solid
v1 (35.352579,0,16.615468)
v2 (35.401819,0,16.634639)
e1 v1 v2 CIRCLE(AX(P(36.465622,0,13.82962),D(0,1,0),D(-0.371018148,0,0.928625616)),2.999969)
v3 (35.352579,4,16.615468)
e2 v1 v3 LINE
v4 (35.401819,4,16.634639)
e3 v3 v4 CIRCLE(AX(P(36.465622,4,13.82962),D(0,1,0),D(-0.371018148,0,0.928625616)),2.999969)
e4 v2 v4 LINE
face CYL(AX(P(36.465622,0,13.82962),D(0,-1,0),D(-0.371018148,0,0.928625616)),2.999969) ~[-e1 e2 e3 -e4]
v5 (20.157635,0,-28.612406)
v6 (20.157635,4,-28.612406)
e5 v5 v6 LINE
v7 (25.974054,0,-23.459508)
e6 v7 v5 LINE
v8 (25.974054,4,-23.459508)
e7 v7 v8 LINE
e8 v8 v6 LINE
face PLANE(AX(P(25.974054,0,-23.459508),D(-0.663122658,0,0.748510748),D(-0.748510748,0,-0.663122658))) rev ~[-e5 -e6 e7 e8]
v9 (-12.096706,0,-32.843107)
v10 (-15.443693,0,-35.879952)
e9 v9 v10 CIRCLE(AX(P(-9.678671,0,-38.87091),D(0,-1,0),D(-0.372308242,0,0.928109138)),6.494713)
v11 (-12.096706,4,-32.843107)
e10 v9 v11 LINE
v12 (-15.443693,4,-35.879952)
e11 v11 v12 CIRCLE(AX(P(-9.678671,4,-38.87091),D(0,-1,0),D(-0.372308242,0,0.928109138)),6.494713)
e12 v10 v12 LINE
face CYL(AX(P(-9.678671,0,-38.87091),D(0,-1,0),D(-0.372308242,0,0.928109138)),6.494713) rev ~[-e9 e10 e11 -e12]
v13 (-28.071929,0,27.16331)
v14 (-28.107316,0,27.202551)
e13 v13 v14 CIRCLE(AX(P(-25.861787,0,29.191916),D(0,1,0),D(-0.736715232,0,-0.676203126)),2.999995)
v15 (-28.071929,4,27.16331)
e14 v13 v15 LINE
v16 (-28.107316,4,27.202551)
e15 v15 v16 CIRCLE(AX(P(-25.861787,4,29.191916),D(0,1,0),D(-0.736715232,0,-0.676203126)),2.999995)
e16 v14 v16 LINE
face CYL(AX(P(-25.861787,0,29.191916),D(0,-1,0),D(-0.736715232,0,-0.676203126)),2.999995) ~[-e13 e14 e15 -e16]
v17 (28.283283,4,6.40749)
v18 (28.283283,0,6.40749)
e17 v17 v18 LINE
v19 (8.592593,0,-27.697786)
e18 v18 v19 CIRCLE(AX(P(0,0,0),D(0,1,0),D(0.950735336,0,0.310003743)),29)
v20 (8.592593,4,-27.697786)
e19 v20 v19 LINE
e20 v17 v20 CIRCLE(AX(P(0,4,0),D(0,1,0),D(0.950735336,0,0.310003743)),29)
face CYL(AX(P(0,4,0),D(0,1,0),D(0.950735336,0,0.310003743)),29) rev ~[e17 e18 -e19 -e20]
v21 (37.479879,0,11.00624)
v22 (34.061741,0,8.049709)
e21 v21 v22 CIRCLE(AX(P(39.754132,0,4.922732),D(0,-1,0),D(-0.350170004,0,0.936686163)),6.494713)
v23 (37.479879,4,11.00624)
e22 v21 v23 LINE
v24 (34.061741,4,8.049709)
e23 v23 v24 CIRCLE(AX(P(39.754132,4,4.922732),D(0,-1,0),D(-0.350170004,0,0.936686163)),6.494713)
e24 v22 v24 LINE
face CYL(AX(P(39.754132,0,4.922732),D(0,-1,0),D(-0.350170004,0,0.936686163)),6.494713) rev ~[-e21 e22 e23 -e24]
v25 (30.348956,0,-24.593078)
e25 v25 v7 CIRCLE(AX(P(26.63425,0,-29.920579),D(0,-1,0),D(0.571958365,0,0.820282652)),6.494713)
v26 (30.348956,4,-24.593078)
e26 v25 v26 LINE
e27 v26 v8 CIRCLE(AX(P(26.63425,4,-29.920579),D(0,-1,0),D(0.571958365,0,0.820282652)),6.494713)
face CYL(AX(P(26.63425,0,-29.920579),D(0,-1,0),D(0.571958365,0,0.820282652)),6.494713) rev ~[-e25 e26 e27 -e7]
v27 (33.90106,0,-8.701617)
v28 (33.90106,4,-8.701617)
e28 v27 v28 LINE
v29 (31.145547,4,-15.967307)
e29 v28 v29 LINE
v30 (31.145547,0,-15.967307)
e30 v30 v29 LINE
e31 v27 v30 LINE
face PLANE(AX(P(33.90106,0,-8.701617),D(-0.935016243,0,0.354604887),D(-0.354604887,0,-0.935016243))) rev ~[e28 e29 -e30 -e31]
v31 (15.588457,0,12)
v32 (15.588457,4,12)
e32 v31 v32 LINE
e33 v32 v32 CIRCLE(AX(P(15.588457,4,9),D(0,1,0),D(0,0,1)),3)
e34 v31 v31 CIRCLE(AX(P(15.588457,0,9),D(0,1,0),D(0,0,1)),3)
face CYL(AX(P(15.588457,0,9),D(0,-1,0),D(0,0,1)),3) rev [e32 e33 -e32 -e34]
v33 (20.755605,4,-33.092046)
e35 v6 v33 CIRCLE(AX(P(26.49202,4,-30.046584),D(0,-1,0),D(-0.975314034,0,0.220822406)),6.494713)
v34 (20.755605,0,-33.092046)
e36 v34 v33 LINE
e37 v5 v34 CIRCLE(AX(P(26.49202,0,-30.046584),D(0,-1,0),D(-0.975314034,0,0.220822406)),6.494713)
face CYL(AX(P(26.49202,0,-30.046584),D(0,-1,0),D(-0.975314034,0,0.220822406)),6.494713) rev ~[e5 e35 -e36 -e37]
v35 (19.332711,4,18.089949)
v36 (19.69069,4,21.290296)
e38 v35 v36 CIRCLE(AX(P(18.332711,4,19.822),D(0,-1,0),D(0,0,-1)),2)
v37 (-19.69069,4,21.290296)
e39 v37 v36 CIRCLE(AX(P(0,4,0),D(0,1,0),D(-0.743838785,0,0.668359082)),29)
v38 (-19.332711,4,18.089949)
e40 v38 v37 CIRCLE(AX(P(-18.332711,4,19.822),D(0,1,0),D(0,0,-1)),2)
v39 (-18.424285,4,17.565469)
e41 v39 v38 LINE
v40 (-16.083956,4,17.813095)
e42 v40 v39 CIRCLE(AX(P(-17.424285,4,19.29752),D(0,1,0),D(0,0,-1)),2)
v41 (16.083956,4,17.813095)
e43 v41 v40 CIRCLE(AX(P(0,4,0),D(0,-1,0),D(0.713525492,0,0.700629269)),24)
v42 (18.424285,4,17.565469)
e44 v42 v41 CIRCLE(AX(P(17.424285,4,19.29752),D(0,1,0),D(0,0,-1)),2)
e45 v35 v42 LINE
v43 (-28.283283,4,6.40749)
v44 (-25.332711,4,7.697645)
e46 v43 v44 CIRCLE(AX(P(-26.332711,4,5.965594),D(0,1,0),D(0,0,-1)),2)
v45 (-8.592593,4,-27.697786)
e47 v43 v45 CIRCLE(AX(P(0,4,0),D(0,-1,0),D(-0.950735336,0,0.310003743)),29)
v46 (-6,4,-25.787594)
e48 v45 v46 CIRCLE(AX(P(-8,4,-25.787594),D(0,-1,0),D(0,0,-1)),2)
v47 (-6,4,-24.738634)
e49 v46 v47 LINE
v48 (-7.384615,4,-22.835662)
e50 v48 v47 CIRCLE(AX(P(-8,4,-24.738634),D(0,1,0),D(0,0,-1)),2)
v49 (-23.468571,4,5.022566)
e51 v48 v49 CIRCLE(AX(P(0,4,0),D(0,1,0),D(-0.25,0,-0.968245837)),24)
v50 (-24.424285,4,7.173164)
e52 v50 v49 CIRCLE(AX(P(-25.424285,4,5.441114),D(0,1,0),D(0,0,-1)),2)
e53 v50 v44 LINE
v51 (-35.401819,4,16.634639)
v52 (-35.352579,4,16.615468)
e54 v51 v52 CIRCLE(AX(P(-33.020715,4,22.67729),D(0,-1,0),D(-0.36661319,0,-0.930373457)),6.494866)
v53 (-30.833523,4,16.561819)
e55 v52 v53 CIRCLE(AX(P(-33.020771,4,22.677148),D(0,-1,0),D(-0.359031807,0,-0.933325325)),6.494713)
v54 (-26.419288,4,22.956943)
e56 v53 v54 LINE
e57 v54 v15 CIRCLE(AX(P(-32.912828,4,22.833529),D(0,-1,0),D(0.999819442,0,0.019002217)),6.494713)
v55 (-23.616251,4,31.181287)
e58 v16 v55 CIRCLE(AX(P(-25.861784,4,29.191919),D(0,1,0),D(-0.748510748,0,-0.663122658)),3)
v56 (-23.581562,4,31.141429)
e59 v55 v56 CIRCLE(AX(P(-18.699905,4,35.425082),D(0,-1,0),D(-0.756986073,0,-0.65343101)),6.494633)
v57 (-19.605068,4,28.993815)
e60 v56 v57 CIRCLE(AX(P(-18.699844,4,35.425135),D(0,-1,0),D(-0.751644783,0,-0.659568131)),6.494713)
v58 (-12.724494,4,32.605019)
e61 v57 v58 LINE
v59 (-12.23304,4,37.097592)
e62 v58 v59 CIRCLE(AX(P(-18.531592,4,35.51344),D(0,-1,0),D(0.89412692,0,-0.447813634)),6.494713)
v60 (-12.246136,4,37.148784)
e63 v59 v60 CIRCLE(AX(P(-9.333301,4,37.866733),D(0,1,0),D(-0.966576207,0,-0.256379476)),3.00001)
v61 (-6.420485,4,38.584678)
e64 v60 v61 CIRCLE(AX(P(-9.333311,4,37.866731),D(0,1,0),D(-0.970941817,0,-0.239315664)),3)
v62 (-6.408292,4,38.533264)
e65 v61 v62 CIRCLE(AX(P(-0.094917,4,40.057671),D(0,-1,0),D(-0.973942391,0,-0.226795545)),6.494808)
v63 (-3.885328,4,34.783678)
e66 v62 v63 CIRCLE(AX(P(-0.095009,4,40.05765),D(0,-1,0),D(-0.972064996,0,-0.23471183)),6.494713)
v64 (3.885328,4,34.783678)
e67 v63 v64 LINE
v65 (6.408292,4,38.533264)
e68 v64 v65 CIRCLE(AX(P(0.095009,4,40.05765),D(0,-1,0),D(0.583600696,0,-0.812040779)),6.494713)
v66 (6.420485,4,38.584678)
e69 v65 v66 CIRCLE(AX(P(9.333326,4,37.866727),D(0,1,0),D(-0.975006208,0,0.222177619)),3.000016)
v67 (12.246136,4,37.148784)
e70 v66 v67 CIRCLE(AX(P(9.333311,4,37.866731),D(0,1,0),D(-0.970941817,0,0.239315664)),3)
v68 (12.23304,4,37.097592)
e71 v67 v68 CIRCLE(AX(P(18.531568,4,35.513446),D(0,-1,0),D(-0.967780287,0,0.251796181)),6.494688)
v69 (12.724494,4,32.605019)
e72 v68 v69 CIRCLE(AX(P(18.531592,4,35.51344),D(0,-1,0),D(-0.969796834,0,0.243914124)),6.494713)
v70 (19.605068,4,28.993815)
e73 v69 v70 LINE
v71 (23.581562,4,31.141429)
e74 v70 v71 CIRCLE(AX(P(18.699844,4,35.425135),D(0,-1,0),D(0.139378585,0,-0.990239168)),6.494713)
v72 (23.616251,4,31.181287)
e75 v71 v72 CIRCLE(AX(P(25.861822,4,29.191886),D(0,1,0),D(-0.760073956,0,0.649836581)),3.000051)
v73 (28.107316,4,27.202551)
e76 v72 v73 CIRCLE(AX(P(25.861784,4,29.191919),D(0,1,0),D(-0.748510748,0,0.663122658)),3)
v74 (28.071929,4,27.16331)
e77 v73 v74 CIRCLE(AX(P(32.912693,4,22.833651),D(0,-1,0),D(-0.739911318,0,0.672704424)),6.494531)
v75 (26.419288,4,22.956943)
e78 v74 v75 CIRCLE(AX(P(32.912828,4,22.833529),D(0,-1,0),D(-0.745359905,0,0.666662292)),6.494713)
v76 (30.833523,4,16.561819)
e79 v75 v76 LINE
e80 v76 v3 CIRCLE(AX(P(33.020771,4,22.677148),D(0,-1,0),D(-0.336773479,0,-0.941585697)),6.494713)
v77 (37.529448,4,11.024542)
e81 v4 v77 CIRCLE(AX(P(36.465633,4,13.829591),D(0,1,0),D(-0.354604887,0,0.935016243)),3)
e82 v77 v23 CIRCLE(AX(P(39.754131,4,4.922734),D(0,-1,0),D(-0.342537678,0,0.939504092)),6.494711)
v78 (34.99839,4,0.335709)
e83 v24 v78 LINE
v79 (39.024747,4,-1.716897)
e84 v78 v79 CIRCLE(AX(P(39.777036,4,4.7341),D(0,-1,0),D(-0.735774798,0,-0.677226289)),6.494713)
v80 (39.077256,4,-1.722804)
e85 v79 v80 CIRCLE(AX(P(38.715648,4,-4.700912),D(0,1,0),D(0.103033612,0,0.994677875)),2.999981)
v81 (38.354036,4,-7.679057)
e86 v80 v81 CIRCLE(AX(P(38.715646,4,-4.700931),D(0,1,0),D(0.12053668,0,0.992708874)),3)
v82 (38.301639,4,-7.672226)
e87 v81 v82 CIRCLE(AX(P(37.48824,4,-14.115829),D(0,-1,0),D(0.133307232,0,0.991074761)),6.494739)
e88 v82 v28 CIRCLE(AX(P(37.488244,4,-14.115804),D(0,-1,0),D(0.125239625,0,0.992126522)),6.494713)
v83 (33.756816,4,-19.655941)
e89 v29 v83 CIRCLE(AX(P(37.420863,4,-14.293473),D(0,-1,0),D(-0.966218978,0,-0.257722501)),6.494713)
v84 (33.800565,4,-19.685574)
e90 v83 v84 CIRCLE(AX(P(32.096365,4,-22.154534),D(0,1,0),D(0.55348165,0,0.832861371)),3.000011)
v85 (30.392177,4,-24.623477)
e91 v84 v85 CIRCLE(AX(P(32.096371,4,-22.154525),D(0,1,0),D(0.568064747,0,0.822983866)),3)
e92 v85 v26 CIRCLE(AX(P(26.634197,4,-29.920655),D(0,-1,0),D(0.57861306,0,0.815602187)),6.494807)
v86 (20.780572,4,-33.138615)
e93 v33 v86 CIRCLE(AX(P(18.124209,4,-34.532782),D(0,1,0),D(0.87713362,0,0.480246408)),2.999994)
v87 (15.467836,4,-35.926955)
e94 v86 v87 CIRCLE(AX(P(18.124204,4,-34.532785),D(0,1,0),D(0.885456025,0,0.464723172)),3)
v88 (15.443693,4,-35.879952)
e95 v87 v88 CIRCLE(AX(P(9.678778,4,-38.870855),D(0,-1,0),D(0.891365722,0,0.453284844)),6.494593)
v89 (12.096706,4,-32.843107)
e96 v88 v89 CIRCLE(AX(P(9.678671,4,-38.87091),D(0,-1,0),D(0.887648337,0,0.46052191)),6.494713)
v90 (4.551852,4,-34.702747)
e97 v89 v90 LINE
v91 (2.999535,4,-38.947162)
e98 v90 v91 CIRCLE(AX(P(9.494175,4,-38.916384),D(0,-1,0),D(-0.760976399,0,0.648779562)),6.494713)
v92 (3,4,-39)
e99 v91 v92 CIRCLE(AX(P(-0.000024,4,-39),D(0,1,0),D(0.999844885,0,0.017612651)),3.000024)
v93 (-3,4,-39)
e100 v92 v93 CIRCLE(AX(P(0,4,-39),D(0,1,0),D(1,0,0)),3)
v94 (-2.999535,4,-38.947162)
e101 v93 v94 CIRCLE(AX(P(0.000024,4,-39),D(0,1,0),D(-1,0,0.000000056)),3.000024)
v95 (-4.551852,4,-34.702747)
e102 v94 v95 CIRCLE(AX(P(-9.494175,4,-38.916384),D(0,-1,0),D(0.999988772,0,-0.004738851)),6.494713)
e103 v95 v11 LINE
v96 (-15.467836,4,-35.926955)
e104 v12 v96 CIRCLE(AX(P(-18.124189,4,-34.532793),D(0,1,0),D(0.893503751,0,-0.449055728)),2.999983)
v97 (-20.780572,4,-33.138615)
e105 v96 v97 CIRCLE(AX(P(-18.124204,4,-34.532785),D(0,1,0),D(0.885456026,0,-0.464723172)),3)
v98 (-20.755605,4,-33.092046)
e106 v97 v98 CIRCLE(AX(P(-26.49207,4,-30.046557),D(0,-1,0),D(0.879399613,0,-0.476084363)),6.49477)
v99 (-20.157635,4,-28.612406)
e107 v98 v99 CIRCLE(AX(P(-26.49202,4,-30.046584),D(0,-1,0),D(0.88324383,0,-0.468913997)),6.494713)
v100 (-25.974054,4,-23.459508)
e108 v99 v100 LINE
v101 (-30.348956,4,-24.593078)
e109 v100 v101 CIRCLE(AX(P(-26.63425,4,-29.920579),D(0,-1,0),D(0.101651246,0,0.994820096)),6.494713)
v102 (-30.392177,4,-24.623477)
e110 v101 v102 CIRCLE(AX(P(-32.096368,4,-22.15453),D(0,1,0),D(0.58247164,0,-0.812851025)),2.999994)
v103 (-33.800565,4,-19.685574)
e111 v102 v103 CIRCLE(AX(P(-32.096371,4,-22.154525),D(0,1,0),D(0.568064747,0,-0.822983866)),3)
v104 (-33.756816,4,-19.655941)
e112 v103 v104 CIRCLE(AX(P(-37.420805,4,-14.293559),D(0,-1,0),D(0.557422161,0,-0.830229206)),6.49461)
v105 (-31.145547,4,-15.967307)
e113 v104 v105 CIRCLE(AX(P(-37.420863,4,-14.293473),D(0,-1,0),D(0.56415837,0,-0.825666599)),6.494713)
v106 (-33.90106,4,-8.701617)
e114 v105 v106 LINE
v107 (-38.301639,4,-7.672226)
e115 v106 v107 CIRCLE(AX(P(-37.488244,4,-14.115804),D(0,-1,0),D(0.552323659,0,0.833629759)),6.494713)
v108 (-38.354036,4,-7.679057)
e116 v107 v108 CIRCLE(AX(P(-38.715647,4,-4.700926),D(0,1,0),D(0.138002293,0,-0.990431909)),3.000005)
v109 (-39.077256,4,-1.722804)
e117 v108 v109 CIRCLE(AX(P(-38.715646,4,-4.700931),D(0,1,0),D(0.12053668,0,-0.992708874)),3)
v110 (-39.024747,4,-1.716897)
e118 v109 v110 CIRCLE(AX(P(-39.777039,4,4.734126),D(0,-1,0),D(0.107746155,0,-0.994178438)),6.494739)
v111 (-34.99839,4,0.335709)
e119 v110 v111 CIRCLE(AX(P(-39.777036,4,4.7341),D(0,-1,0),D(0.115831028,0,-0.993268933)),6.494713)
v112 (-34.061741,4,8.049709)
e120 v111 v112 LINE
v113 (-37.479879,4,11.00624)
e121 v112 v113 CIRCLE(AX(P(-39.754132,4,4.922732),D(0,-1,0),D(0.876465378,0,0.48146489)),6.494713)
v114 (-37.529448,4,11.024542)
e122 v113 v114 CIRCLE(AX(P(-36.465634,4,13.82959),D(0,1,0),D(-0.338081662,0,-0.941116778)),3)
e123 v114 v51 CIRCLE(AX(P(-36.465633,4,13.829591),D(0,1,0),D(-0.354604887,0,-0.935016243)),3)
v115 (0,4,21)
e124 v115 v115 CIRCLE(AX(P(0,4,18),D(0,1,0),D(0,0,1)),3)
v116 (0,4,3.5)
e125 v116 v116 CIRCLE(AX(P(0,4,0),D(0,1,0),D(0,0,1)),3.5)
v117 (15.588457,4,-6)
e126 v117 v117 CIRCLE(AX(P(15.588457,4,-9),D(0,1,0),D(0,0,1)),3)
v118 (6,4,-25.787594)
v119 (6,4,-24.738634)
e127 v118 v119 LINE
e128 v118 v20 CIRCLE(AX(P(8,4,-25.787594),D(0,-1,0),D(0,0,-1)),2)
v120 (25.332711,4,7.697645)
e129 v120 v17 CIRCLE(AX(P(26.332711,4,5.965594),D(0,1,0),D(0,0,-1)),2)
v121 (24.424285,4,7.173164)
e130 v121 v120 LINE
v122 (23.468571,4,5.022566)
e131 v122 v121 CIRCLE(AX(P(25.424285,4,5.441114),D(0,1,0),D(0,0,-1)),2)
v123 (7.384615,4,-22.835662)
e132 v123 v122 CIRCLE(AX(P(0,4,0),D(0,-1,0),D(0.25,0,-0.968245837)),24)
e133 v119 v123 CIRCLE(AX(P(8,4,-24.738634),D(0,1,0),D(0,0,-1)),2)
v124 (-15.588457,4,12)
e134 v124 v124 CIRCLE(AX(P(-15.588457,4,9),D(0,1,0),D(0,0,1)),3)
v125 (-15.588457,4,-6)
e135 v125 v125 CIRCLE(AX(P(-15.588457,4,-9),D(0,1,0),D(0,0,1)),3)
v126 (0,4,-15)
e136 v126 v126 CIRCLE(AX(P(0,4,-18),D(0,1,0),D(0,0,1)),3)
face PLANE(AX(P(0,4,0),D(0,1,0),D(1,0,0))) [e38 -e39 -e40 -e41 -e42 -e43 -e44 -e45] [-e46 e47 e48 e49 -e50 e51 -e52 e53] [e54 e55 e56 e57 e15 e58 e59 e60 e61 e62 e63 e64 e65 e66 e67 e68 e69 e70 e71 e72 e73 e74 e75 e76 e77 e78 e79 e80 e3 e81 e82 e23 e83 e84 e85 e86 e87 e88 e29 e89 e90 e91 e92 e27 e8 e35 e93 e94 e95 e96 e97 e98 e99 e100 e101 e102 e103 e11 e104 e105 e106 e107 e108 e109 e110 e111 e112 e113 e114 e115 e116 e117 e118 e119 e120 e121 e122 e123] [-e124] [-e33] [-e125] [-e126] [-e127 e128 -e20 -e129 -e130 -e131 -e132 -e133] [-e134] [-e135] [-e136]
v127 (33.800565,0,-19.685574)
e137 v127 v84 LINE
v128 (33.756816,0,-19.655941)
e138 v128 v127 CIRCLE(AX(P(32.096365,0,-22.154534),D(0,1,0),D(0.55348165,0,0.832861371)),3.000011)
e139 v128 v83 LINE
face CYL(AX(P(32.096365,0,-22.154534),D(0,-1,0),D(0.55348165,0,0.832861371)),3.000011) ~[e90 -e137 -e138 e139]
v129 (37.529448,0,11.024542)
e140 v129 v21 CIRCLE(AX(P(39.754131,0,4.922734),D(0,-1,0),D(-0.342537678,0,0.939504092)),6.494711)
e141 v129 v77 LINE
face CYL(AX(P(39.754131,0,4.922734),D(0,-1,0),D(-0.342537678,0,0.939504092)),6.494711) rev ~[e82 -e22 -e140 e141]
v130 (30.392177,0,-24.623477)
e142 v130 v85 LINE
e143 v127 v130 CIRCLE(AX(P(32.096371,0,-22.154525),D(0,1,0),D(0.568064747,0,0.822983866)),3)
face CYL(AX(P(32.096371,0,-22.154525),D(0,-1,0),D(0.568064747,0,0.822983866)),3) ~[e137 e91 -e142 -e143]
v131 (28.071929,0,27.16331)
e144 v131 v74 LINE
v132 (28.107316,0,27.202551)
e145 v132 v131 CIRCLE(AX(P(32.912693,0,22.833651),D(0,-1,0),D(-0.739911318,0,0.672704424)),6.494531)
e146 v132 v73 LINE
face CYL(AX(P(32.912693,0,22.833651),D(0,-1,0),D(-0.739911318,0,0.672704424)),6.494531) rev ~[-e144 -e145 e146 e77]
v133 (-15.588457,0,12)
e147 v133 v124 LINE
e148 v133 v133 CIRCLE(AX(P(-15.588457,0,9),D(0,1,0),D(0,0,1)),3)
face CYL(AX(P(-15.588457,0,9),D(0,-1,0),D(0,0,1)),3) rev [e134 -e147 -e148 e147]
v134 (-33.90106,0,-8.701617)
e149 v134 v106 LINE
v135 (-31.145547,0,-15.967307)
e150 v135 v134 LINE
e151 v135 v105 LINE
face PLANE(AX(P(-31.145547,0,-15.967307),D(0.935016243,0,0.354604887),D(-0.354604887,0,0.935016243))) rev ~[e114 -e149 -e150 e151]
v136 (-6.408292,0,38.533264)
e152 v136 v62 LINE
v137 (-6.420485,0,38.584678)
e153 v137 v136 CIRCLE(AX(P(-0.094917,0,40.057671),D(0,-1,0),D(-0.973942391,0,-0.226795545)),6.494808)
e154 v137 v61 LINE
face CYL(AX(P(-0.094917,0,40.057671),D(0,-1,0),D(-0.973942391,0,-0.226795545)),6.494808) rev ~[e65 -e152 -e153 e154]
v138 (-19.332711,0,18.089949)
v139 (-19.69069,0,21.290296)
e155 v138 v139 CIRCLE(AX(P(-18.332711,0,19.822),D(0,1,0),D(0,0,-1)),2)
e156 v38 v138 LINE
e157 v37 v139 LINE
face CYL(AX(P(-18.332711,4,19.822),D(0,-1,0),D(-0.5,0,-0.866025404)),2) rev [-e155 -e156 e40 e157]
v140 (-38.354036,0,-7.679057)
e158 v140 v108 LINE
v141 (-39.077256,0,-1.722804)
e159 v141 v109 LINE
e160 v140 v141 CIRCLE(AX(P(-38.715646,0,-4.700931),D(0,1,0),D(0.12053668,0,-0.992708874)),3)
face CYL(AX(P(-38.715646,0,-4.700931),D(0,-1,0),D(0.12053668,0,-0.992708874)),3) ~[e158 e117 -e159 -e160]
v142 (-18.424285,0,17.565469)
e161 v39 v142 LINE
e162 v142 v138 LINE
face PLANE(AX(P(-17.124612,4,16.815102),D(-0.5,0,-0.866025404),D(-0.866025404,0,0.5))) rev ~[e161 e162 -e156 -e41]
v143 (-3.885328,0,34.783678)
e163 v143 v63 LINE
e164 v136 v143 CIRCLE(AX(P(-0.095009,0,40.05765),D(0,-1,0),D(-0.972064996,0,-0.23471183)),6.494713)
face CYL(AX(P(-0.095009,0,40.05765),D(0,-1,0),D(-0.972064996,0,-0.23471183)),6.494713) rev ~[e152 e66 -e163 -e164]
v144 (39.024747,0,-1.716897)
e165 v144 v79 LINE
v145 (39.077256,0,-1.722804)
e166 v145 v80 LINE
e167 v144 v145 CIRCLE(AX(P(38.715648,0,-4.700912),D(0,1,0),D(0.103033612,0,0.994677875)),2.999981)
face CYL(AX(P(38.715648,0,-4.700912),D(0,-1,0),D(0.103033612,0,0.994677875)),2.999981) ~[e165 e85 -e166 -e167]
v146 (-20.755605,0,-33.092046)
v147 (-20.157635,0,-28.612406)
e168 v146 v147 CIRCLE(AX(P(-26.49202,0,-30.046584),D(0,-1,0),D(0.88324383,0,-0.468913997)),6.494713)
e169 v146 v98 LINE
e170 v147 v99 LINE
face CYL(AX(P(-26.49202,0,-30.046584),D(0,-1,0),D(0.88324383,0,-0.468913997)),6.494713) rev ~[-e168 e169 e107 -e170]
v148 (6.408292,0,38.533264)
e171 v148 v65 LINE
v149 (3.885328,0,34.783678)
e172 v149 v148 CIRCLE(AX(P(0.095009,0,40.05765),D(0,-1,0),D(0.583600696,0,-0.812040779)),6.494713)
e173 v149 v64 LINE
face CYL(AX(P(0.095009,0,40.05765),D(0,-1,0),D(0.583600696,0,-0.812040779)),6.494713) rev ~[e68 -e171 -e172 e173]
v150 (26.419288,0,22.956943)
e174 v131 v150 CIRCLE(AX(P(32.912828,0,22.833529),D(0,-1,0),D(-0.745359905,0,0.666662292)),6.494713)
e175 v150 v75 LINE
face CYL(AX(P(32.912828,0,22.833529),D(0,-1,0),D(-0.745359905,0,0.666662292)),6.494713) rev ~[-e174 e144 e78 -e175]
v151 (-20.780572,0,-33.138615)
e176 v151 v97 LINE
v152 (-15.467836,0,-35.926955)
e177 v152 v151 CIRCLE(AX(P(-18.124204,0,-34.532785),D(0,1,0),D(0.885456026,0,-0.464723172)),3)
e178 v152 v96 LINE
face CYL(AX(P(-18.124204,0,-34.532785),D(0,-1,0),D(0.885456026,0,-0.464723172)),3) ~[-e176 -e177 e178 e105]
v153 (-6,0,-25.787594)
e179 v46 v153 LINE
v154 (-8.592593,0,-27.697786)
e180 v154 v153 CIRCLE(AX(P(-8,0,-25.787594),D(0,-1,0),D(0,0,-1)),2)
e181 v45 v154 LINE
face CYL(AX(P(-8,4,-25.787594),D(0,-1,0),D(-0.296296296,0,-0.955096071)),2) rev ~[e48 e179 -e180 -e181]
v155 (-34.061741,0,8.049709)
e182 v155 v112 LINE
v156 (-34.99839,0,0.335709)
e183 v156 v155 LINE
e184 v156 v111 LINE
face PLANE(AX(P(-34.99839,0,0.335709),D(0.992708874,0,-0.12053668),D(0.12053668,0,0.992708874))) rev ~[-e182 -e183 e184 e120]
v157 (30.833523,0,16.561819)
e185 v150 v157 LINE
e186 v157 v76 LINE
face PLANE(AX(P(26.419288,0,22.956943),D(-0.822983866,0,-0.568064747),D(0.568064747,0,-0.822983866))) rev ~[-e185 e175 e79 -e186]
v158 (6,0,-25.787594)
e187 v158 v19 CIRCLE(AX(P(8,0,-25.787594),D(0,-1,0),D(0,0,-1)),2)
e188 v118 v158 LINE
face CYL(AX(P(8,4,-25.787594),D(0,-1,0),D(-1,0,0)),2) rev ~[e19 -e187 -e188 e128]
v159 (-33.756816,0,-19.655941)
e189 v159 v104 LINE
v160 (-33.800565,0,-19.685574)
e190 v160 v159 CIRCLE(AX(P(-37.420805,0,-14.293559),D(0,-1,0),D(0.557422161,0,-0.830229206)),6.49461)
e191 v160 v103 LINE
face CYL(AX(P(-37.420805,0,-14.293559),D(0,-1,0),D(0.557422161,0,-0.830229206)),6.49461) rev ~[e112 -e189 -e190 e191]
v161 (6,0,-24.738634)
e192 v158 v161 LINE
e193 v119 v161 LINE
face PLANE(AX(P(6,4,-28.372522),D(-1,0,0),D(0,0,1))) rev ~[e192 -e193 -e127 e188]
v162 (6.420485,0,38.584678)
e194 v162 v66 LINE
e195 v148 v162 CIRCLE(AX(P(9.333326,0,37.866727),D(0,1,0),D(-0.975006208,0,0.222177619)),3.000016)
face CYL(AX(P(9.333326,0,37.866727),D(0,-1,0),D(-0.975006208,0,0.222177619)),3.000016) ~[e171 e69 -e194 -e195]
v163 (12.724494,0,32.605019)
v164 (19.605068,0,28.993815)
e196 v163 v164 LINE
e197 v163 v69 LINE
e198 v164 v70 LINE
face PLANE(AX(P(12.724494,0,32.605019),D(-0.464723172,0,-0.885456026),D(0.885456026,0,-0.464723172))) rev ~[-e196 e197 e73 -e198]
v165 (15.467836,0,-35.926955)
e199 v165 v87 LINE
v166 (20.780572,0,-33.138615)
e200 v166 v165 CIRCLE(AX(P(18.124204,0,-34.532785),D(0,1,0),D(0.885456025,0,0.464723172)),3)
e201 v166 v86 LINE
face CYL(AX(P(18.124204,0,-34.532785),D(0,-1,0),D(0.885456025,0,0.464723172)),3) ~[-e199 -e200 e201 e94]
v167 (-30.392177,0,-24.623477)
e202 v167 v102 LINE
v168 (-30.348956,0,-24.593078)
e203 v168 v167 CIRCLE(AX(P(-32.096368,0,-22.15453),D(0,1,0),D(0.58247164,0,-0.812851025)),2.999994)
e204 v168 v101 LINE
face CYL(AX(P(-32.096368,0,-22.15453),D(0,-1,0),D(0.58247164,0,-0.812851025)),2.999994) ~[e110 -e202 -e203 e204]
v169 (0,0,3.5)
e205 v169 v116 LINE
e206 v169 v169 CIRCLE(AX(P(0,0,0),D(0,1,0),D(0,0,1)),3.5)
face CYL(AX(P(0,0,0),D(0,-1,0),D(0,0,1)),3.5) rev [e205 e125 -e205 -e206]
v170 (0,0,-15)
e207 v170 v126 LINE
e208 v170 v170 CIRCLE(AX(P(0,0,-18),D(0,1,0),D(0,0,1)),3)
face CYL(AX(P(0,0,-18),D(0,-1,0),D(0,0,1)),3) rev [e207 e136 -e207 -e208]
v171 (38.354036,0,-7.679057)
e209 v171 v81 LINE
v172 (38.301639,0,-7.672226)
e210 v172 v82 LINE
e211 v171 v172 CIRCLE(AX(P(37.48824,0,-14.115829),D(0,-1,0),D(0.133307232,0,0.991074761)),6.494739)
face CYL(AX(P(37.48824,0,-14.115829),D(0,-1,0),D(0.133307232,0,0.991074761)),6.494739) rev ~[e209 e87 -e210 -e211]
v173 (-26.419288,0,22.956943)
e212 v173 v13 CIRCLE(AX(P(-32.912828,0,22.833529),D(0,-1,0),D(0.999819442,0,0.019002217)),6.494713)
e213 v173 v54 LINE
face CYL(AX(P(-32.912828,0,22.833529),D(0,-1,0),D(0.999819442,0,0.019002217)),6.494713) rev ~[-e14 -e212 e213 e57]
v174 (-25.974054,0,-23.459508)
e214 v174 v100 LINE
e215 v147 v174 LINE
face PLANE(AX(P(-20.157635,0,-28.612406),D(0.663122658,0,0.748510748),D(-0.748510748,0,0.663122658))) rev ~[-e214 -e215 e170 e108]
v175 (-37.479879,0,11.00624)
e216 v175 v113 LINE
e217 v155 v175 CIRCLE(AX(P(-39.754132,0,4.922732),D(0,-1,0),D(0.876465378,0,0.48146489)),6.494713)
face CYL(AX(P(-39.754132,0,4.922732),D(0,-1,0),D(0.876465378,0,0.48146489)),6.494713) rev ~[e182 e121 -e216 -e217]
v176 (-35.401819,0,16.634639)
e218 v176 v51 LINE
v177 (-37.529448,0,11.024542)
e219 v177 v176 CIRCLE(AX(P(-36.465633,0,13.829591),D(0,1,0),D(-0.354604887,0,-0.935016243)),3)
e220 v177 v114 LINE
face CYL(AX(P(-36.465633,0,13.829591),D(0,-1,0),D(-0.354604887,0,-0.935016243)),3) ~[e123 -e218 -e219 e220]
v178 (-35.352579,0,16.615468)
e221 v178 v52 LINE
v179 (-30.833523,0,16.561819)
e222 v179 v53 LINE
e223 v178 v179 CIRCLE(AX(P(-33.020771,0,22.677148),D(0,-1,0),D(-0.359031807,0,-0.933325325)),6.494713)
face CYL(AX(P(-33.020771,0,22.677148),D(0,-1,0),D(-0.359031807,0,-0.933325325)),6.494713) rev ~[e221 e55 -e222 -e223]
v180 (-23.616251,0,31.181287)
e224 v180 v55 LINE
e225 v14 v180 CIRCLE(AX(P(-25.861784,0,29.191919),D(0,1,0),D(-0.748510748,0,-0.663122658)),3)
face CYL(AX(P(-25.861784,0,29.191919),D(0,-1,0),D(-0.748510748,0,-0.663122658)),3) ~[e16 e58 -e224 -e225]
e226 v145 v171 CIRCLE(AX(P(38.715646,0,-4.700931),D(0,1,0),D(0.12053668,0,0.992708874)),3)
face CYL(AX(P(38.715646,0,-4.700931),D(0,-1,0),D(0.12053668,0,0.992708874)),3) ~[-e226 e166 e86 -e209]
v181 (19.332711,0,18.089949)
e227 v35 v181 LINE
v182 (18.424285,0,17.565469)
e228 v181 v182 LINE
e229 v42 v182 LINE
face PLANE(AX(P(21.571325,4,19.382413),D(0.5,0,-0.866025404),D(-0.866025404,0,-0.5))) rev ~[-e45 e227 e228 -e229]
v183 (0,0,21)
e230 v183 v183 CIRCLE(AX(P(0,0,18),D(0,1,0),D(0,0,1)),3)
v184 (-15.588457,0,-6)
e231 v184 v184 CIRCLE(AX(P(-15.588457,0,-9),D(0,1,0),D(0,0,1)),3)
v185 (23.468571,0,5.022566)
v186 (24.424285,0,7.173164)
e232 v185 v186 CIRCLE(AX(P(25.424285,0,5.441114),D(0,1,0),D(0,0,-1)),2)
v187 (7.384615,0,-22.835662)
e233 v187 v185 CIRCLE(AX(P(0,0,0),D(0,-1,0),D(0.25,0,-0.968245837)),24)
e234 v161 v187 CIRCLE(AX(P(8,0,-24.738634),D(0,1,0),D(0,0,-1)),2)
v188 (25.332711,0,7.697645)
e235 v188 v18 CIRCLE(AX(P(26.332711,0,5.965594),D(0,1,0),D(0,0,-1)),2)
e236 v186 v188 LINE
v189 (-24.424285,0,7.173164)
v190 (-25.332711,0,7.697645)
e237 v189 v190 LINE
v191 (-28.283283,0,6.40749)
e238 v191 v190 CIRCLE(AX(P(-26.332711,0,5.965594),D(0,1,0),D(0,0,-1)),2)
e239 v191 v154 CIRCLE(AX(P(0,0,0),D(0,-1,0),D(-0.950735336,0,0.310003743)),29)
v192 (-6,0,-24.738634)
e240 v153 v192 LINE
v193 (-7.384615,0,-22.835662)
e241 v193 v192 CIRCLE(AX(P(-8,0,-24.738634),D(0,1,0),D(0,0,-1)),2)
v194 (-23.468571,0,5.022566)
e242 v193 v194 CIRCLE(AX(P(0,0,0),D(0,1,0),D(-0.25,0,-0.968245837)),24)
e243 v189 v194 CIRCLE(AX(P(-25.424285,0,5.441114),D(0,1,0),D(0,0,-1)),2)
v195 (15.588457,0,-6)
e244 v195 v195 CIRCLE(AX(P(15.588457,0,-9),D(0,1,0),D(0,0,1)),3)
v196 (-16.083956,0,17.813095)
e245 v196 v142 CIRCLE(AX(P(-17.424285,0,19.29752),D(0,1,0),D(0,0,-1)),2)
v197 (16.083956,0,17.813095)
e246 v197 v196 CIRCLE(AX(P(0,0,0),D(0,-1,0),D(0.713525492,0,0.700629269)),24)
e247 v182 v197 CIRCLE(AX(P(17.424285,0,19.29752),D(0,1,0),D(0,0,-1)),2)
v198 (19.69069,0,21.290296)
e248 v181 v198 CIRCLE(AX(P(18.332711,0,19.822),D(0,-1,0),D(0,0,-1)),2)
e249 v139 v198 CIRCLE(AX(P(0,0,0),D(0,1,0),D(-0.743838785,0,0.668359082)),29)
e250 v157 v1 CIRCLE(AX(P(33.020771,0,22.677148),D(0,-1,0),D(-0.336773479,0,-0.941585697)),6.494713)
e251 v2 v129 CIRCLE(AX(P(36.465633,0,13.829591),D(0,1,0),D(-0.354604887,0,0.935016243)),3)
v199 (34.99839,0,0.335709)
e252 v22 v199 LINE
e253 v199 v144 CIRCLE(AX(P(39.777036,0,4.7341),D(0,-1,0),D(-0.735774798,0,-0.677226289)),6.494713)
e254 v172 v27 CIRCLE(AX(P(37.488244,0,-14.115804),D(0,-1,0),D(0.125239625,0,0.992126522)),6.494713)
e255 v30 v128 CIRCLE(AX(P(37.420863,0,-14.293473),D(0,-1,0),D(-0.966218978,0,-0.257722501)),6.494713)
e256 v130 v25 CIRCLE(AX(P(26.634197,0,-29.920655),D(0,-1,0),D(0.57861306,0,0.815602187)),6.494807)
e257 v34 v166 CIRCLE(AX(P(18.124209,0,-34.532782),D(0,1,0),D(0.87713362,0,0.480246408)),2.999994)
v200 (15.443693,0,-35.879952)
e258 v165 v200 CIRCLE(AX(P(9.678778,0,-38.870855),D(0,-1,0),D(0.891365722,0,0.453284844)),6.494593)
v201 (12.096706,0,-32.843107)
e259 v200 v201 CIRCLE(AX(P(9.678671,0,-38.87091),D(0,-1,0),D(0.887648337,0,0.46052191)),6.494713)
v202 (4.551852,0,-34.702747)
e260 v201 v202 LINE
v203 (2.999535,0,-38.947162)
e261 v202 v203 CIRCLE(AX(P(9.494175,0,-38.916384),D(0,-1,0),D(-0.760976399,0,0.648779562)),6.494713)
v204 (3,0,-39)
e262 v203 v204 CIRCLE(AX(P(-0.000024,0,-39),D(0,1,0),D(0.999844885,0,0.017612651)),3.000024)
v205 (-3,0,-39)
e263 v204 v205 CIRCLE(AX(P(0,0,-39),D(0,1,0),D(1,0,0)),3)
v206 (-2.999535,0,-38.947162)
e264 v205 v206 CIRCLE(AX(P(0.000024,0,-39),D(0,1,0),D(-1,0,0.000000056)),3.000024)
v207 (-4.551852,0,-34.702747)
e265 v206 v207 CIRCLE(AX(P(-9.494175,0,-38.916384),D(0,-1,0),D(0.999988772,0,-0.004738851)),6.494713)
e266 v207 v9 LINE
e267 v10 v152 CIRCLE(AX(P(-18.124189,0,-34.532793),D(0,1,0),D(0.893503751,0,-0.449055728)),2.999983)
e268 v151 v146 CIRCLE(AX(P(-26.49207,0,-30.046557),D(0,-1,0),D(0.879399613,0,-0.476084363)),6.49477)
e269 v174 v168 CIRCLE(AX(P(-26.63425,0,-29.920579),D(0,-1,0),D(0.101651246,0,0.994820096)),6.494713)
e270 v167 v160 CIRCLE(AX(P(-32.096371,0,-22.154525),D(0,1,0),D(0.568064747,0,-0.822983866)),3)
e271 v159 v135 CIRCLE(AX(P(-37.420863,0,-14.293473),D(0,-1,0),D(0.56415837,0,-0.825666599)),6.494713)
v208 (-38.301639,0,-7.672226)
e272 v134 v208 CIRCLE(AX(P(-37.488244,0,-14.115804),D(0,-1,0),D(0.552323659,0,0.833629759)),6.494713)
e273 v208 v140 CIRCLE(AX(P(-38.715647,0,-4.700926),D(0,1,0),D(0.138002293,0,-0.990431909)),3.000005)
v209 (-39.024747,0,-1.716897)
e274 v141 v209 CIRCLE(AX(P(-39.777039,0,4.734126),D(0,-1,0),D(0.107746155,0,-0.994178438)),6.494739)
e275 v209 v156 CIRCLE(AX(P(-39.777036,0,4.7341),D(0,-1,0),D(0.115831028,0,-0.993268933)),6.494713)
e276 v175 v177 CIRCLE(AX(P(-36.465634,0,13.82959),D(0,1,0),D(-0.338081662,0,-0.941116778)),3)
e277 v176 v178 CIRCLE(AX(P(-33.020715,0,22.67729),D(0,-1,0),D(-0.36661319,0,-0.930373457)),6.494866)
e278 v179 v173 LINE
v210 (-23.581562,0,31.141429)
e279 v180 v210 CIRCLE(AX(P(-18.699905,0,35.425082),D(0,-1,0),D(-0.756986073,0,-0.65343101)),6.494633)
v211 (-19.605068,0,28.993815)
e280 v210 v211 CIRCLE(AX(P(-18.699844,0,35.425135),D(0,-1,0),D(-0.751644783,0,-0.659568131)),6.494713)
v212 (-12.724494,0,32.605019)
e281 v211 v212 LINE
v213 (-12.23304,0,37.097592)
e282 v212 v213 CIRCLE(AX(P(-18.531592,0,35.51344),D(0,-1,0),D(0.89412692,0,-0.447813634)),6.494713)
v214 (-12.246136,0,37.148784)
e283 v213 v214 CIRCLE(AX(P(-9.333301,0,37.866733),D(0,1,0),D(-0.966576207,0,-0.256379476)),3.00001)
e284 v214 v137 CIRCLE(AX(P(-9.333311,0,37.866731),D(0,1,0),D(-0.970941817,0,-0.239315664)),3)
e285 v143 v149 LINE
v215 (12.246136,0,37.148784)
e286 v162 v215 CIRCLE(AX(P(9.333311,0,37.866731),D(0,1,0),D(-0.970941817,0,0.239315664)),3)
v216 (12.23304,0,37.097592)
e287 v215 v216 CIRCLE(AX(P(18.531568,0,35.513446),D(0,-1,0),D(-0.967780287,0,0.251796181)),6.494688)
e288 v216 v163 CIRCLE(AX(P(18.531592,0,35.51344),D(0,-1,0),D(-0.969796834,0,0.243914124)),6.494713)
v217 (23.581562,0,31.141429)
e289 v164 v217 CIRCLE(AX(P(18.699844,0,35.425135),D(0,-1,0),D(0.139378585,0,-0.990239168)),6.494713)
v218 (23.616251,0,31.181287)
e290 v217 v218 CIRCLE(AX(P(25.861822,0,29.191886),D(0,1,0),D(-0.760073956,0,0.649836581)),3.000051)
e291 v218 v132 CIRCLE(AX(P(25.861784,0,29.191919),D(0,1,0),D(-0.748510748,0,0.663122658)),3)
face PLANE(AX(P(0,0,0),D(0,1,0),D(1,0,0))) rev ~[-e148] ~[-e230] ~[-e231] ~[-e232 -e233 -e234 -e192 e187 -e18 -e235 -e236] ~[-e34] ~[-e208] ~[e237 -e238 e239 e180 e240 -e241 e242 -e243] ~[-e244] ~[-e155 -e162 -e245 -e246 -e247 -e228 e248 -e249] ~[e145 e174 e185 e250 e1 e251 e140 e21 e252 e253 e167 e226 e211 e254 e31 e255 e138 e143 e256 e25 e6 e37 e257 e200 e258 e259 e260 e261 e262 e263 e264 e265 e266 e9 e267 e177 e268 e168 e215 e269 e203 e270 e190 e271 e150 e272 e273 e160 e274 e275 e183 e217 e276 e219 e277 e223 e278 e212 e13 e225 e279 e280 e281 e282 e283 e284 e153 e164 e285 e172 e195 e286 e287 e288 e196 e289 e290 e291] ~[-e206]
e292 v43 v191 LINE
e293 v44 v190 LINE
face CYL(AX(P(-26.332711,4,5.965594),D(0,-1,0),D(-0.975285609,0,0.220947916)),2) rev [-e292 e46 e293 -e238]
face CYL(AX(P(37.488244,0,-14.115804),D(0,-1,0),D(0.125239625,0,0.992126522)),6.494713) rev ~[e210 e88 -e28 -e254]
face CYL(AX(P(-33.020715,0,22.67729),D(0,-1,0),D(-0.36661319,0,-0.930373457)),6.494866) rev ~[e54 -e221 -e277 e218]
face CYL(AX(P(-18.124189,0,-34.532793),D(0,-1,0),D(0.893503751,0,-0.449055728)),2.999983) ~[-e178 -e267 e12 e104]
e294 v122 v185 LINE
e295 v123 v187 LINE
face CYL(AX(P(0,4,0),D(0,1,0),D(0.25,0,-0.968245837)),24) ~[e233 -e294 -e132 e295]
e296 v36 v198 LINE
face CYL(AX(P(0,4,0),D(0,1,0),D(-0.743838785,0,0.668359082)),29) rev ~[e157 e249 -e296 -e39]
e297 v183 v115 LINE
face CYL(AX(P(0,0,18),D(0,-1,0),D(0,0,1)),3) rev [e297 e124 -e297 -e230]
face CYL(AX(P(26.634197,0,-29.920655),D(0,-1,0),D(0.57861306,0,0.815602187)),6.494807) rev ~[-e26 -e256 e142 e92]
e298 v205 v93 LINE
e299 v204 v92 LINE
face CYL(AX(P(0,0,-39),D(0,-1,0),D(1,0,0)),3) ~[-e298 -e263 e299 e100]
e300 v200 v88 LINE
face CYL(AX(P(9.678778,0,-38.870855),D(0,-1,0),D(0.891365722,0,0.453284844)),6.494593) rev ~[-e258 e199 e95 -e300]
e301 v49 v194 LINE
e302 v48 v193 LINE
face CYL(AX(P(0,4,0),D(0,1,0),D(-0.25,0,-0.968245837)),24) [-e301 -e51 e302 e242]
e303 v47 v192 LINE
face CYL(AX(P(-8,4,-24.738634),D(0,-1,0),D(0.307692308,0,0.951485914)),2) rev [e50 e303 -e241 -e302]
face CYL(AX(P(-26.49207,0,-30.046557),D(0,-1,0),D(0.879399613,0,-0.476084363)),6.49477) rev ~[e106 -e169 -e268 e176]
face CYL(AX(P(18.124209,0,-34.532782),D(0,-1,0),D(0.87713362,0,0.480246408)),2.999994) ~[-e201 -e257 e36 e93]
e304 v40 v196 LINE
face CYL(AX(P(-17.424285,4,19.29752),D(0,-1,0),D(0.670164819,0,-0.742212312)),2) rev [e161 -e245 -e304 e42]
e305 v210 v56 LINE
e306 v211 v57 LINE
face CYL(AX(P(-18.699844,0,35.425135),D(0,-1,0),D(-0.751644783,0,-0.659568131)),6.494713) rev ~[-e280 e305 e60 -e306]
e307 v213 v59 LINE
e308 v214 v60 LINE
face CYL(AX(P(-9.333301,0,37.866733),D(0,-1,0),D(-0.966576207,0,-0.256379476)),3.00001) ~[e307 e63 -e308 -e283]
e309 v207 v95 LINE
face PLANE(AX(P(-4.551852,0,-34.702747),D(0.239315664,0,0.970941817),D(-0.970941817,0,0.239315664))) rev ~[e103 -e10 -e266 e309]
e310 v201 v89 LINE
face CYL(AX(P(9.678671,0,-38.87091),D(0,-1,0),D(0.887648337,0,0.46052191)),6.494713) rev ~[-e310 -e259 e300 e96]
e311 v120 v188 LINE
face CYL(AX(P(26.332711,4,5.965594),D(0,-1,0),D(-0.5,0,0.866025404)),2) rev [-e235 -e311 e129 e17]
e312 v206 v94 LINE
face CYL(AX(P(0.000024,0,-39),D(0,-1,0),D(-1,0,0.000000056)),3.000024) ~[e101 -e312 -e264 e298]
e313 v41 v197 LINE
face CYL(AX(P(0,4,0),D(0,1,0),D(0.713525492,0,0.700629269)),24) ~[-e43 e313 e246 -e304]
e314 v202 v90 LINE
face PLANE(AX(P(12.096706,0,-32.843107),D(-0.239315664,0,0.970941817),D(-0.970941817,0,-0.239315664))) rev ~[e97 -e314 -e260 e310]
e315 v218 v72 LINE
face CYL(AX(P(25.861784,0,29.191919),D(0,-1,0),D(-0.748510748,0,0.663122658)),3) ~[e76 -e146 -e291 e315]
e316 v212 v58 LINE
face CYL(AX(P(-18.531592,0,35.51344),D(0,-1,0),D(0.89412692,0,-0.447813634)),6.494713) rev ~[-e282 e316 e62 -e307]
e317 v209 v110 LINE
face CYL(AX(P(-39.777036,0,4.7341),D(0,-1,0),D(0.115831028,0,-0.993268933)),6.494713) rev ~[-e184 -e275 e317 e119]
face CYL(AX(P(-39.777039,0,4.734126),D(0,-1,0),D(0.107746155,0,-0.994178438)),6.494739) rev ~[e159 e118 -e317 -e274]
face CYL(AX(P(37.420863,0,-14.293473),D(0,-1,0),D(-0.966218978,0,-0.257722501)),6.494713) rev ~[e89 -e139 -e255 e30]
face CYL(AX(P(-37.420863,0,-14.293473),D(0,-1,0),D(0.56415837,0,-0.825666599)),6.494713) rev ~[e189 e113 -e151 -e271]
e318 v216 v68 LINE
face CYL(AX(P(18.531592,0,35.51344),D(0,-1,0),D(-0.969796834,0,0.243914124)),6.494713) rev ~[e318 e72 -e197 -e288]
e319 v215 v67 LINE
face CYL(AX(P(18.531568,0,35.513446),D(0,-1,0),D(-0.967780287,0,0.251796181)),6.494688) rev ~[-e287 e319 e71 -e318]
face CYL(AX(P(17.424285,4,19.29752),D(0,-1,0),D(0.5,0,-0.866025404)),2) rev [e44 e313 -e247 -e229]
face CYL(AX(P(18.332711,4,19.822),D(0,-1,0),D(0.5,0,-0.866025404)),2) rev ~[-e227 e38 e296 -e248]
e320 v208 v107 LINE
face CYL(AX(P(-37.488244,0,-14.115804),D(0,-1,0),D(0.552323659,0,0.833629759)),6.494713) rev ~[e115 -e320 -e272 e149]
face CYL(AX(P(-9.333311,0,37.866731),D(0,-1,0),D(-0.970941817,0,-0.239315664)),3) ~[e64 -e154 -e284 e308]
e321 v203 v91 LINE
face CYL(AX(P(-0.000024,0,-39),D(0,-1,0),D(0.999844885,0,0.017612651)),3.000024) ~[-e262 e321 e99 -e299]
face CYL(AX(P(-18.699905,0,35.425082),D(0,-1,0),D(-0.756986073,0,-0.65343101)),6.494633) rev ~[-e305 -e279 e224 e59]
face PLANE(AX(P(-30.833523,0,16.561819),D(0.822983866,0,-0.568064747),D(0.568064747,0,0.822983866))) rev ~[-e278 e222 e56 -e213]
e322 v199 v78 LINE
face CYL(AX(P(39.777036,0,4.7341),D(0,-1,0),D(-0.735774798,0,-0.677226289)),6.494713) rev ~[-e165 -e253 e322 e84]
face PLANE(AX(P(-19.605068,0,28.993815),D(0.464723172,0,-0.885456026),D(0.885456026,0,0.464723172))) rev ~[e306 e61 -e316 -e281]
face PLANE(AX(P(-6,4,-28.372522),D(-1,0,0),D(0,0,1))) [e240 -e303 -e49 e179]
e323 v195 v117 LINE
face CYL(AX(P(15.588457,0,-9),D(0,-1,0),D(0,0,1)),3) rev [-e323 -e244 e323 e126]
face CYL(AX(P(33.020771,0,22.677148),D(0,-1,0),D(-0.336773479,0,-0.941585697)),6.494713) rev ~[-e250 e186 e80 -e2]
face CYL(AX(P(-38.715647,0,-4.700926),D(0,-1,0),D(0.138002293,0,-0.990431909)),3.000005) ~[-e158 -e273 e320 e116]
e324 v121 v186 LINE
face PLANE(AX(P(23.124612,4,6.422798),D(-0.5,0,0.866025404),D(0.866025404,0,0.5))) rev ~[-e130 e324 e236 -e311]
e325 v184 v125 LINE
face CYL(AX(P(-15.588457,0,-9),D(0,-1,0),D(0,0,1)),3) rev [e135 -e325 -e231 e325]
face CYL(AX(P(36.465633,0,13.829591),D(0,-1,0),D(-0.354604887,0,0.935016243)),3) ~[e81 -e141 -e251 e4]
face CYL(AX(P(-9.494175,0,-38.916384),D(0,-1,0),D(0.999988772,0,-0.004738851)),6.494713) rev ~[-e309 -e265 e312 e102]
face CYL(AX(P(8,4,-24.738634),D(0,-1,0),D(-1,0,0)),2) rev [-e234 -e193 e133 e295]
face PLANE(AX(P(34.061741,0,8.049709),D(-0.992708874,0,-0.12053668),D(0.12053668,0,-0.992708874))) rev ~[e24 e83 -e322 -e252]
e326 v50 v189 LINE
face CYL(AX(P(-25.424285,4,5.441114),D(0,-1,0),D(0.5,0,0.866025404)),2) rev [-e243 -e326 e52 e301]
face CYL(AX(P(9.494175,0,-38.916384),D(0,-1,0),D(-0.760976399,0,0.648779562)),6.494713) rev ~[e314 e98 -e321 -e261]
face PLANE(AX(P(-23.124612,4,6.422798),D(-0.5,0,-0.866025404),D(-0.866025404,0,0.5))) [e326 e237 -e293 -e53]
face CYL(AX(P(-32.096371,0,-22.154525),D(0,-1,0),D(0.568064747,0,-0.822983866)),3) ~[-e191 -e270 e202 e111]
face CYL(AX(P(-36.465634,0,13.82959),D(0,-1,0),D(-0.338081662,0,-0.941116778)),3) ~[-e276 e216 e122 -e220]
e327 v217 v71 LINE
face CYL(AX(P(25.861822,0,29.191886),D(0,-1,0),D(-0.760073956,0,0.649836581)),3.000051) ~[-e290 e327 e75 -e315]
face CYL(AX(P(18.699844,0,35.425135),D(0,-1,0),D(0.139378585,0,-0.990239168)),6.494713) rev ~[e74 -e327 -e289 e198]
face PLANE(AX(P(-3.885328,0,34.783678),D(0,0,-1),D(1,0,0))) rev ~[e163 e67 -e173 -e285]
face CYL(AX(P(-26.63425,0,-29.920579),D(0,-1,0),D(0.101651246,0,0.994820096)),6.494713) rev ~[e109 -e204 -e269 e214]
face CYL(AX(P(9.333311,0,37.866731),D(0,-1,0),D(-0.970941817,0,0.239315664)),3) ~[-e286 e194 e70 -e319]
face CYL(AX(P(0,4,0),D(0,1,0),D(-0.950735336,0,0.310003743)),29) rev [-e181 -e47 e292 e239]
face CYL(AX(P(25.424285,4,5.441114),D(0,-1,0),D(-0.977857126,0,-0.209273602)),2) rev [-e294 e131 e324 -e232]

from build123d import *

# Parameters (mm, degrees)
SKETCH1_R           = 1.5
SKETCH1_R_2         = 1.75
BOSS_EXTRUDE3_DEPTH = 2
CUT_EXTRUDE1_DEPTH  = 2
FILLET1_R           = 1
SCALE1_SCALE        = 2


with BuildPart() as part:
    # Sketch1 → Boss-Extrude3 (new body)
    with BuildSketch(Plane(origin=(0, 0, 0), x_dir=(1, 0, 0), z_dir=(0, 1, 0))):
        with BuildLine():
            Line((6.048353149, 16.421553647), (2.27592576, 17.351373488))
            ThreePointArc((2.27592576, 17.351373488), (1.69730064, 18.342788524), (1.499767326, 19.473580897))
            ThreePointArc((1.499767326, 19.473580897), (1.49994183, 19.486789936), (1.5, 19.5))
            ThreePointArc((1.5, 19.5), (0, 21), (-1.5, 19.5))
            ThreePointArc((-1.5, 19.5), (-1.49994183, 19.486789936), (-1.499767326, 19.473580897))
            ThreePointArc((-1.499767326, 19.473580897), (-1.69730064, 18.342788524), (-2.27592576, 17.351373488))
            Line((-2.27592576, 17.351373488), (-6.048353149, 16.421553647))
            ThreePointArc((-6.048353149, 16.421553647), (-7.021433788, 17.030507563), (-7.72184627, 17.939976175))
            ThreePointArc((-7.72184627, 17.939976175), (-7.7278303, 17.951753295), (-7.733917816, 17.963477258))
            ThreePointArc((-7.733917816, 17.963477258), (-9.759186613, 18.594576539), (-10.390285893, 16.569307742))
            ThreePointArc((-10.390285893, 16.569307742), (-10.384020417, 16.557678026), (-10.377802301, 16.546022918))
            ThreePointArc((-10.377802301, 16.546022918), (-10.027203946, 15.452957688), (-10.078817505, 14.30620277))
            Line((-10.078817505, 14.30620277), (-12.987027242, 11.729753767))
            ThreePointArc((-12.987027242, 11.729753767), (-14.131642352, 11.81674256), (-15.174477944, 12.296539112))
            ThreePointArc((-15.174477944, 12.296539112), (-15.18524964, 12.304186316), (-15.196088265, 12.31173836))
            ThreePointArc((-15.196088265, 12.31173836), (-17.282661184, 11.929359681), (-16.900282505, 9.842786762))
            ThreePointArc((-16.900282505, 9.842786762), (-16.889330102, 9.835400872), (-16.878407836, 9.827970489))
            ThreePointArc((-16.878407836, 9.827970489), (-16.059995669, 9.023040475), (-15.572773623, 7.983653406))
            Line((-15.572773623, 7.983653406), (-16.950529904, 4.350808657))
            ThreePointArc((-16.950529904, 4.350808657), (-18.004461959, 3.895904243), (-19.150819593, 3.836113127))
            ThreePointArc((-19.150819593, 3.836113127), (-19.163911289, 3.837878533), (-19.177018025, 3.839528576))
            ThreePointArc((-19.177018025, 3.839528576), (-20.846886356, 2.531270285), (-19.538628065, 0.861401954))
            ThreePointArc((-19.538628065, 0.861401954), (-19.5254978, 0.859951908), (-19.512373542, 0.858448461))
            ThreePointArc((-19.512373542, 0.858448461), (-18.413635928, 0.526053428), (-17.499194975, -0.167854741))
            Line((-17.499194975, -0.167854741), (-17.030870442, -4.024854283))
            ThreePointArc((-17.030870442, -4.024854283), (-17.752676308, -4.917438785), (-18.739939265, -5.503120145))
            ThreePointArc((-18.739939265, -5.503120145), (-18.752351812, -5.50764097), (-18.764724063, -5.512270933))
            ThreePointArc((-18.764724063, -5.512270933), (-19.635341096, -7.446702628), (-17.700909402, -8.317319661))
            ThreePointArc((-17.700909402, -8.317319661), (-17.688609259, -8.312501675), (-17.676289619, -8.307733764))
            ThreePointArc((-17.676289619, -8.307733764), (-16.548934104, -8.09144612), (-15.416761648, -8.280909389))
            Line((-15.416761648, -8.280909389), (-13.209643805, -11.478471612))
            ThreePointArc((-13.209643805, -11.478471612), (-13.433966457, -12.604255849), (-14.035964693, -13.581654911))
            ThreePointArc((-14.035964693, -13.581654911), (-14.044854525, -13.591426301), (-14.053657958, -13.601275602))
            ThreePointArc((-14.053657958, -13.601275602), (-13.925575823, -15.718725712), (-11.808125713, -15.590643577))
            ThreePointArc((-11.808125713, -15.590643577), (-11.799473508, -15.5806613), (-11.790780767, -15.570714303))
            ThreePointArc((-11.790780767, -15.570714303), (-10.893070914, -14.855292874), (-9.802534018, -14.496907492))
            Line((-9.802534018, -14.496907492), (-6.362246966, -16.302509425))
            ThreePointArc((-6.362246966, -16.302509425), (-6.037696789, -17.403589796), (-6.116519761, -18.548796214))
            ThreePointArc((-6.116519761, -18.548796214), (-6.119850325, -18.561579661), (-6.12306818, -18.574391943))
            ThreePointArc((-6.12306818, -18.574391943), (-5.02562895, -20.389778166), (-3.210242727, -19.292338936))
            ThreePointArc((-3.210242727, -19.292338936), (-3.207220575, -19.279479189), (-3.204146136, -19.266631842))
            ThreePointArc((-3.204146136, -19.266631842), (-2.741736452, -18.215971056), (-1.942663979, -17.391838795))
            Line((-1.942663979, -17.391838795), (1.942663979, -17.391838795))
            ThreePointArc((1.942663979, -17.391838795), (2.741736452, -18.215971056), (3.204146136, -19.266631842))
            ThreePointArc((3.204146136, -19.266631842), (3.207137832, -19.279498812), (3.210242727, -19.292338936))
            ThreePointArc((3.210242727, -19.292338936), (5.02562895, -20.389778166), (6.12306818, -18.574391943))
            ThreePointArc((6.12306818, -18.574391943), (6.11976794, -18.561600739), (6.116519761, -18.548796214))
            ThreePointArc((6.116519761, -18.548796214), (6.037696789, -17.403589796), (6.362246966, -16.302509425))
            Line((6.362246966, -16.302509425), (9.802534018, -14.496907492))
            ThreePointArc((9.802534018, -14.496907492), (10.893070914, -14.855292874), (11.790780767, -15.570714303))
            ThreePointArc((11.790780767, -15.570714303), (11.799409362, -15.580717128), (11.808125713, -15.590643577))
            ThreePointArc((11.808125713, -15.590643577), (13.925575823, -15.718725712), (14.053657958, -13.601275602))
            ThreePointArc((14.053657958, -13.601275602), (14.044791371, -13.591483251), (14.035964693, -13.581654911))
            ThreePointArc((14.035964693, -13.581654911), (13.433966458, -12.604255849), (13.209643805, -11.478471612))
            Line((13.209643805, -11.478471612), (15.416761648, -8.280909389))
            ThreePointArc((15.416761648, -8.280909389), (16.548934104, -8.09144612), (17.676289619, -8.307733764))
            ThreePointArc((17.676289619, -8.307733764), (17.688578405, -8.312580919), (17.700909402, -8.317319661))
            ThreePointArc((17.700909402, -8.317319661), (19.635341096, -7.446702628), (18.764724063, -5.512270933))
            ThreePointArc((18.764724063, -5.512270933), (18.752322358, -5.507720745), (18.739939265, -5.503120145))
            ThreePointArc((18.739939265, -5.503120145), (17.752676308, -4.917438785), (17.030870442, -4.024854283))
            Line((17.030870442, -4.024854283), (17.499194975, -0.167854741))
            ThreePointArc((17.499194975, -0.167854741), (18.413635928, 0.526053428), (19.512373542, 0.858448461))
            ThreePointArc((19.512373542, 0.858448461), (19.525507306, 0.859867402), (19.538628065, 0.861401954))
            ThreePointArc((19.538628065, 0.861401954), (20.846886356, 2.531270285), (19.177018025, 3.839528576))
            ThreePointArc((19.177018025, 3.839528576), (19.163922282, 3.837794208), (19.150819593, 3.836113127))
            ThreePointArc((19.150819593, 3.836113127), (18.004461959, 3.895904243), (16.950529904, 4.350808657))
            Line((16.950529904, 4.350808657), (15.572773623, 7.983653406))
            ThreePointArc((15.572773623, 7.983653406), (16.059995669, 9.023040475), (16.878407836, 9.827970489))
            ThreePointArc((16.878407836, 9.827970489), (16.889377792, 9.835330464), (16.900282505, 9.842786762))
            ThreePointArc((16.900282505, 9.842786762), (17.282661184, 11.929359681), (15.196088265, 12.31173836))
            ThreePointArc((15.196088265, 12.31173836), (15.185298562, 12.304116759), (15.174477944, 12.296539112))
            ThreePointArc((15.174477944, 12.296539112), (14.131642352, 11.81674256), (12.987027242, 11.729753767))
            Line((12.987027242, 11.729753767), (10.078817505, 14.30620277))
            ThreePointArc((10.078817505, 14.30620277), (10.027203946, 15.452957688), (10.377802301, 16.546022918))
            ThreePointArc((10.377802301, 16.546022918), (10.384095364, 16.557637845), (10.390285893, 16.569307742))
            ThreePointArc((10.390285893, 16.569307742), (9.759186613, 18.594576539), (7.733917816, 17.963477258))
            ThreePointArc((7.733917816, 17.963477258), (7.727905944, 17.95171444), (7.72184627, 17.939976175))
            ThreePointArc((7.72184627, 17.939976175), (7.021433788, 17.030507563), (6.048353149, 16.421553647))
        make_face()
        with Locations(Location((0, -9, 0), (0, 0, 270))):
            Circle(SKETCH1_R, mode=Mode.SUBTRACT)
        with Locations(Location((-7.794228634, -4.5, 0), (0, 0, 270))):
            Circle(SKETCH1_R, mode=Mode.SUBTRACT)
        with Locations(Location((0, 0, 0), (0, 0, 270))):
            Circle(SKETCH1_R_2, mode=Mode.SUBTRACT)
        with Locations(Location((7.794228634, -4.5, 0), (0, 0, 270))):
            Circle(SKETCH1_R, mode=Mode.SUBTRACT)
        with Locations(Location((-7.794228634, 4.5, 0), (0, 0, 270))):
            Circle(SKETCH1_R, mode=Mode.SUBTRACT)
        with Locations(Location((0, 9, 0), (0, 0, 270))):
            Circle(SKETCH1_R, mode=Mode.SUBTRACT)
        with Locations(Location((7.794228634, 4.5, 0), (0, 0, 270))):
            Circle(SKETCH1_R, mode=Mode.SUBTRACT)
    extrude(amount=BOSS_EXTRUDE3_DEPTH)

    # Sketch3 → Cut-Extrude1 (cut)
    with BuildSketch(Plane(origin=(0, 2, 0), x_dir=(1, 0, 0), z_dir=(0, 1, 0))):
        with BuildLine():
            Line((-3, 14.186260959), (-3, 11.618950039))
            ThreePointArc((-3, 11.618950039), (-10.392304845, 6), (-11.562305899, -3.211398808))
            Line((-11.562305899, -3.211398808), (-13.785662375, -4.495054268))
            ThreePointArc((-13.785662375, -4.495054268), (-12.557368355, 7.25), (-3, 14.186260959))
        make_face()
        with BuildLine():
            Line((3, 14.186260959), (3, 11.618950039))
            ThreePointArc((3, 11.618950039), (10.392304845, 6), (11.562305899, -3.211398808))
            Line((11.562305899, -3.211398808), (13.785662375, -4.495054268))
            ThreePointArc((13.785662375, -4.495054268), (12.557368355, 7.25), (3, 14.186260959))
        make_face()
        with BuildLine():
            Line((10.785662375, -9.691206691), (8.562305899, -8.407551231))
            ThreePointArc((8.562305899, -8.407551231), (0, -12), (-8.562305899, -8.407551231))
            Line((-8.562305899, -8.407551231), (-10.785662375, -9.691206691))
            ThreePointArc((-10.785662375, -9.691206691), (0, -14.5), (10.785662375, -9.691206691))
        make_face()
    extrude(amount=-CUT_EXTRUDE1_DEPTH, mode=Mode.SUBTRACT)

    # Fillet1
    fillet1_edges = [part.edges().sort_by_distance(p)[0] for p in [
        (-8.562305899, 1, 8.407551231),
        (8.562305899, 1, 8.407551231),
        (10.785662375, 1, 9.691206691),
        (-10.785662375, 1, 9.691206691),
        (11.562305899, 1, 3.211398808),
        (3, 1, -11.618950039),
        (3, 1, -14.186260959),
        (13.785662375, 1, 4.495054268),
        (-3, 1, -11.618950039),
        (-11.562305899, 1, 3.211398808),
        (-13.785662375, 1, 4.495054268),
        (-3, 1, -14.186260959),
    ]]
    fillet(fillet1_edges, radius=FILLET1_R)


with BuildPart() as part_1:
    # Scale1: scaled about (0, 0, 0)
    add(part.part.scale(SCALE1_SCALE))


solid = part_1.part
